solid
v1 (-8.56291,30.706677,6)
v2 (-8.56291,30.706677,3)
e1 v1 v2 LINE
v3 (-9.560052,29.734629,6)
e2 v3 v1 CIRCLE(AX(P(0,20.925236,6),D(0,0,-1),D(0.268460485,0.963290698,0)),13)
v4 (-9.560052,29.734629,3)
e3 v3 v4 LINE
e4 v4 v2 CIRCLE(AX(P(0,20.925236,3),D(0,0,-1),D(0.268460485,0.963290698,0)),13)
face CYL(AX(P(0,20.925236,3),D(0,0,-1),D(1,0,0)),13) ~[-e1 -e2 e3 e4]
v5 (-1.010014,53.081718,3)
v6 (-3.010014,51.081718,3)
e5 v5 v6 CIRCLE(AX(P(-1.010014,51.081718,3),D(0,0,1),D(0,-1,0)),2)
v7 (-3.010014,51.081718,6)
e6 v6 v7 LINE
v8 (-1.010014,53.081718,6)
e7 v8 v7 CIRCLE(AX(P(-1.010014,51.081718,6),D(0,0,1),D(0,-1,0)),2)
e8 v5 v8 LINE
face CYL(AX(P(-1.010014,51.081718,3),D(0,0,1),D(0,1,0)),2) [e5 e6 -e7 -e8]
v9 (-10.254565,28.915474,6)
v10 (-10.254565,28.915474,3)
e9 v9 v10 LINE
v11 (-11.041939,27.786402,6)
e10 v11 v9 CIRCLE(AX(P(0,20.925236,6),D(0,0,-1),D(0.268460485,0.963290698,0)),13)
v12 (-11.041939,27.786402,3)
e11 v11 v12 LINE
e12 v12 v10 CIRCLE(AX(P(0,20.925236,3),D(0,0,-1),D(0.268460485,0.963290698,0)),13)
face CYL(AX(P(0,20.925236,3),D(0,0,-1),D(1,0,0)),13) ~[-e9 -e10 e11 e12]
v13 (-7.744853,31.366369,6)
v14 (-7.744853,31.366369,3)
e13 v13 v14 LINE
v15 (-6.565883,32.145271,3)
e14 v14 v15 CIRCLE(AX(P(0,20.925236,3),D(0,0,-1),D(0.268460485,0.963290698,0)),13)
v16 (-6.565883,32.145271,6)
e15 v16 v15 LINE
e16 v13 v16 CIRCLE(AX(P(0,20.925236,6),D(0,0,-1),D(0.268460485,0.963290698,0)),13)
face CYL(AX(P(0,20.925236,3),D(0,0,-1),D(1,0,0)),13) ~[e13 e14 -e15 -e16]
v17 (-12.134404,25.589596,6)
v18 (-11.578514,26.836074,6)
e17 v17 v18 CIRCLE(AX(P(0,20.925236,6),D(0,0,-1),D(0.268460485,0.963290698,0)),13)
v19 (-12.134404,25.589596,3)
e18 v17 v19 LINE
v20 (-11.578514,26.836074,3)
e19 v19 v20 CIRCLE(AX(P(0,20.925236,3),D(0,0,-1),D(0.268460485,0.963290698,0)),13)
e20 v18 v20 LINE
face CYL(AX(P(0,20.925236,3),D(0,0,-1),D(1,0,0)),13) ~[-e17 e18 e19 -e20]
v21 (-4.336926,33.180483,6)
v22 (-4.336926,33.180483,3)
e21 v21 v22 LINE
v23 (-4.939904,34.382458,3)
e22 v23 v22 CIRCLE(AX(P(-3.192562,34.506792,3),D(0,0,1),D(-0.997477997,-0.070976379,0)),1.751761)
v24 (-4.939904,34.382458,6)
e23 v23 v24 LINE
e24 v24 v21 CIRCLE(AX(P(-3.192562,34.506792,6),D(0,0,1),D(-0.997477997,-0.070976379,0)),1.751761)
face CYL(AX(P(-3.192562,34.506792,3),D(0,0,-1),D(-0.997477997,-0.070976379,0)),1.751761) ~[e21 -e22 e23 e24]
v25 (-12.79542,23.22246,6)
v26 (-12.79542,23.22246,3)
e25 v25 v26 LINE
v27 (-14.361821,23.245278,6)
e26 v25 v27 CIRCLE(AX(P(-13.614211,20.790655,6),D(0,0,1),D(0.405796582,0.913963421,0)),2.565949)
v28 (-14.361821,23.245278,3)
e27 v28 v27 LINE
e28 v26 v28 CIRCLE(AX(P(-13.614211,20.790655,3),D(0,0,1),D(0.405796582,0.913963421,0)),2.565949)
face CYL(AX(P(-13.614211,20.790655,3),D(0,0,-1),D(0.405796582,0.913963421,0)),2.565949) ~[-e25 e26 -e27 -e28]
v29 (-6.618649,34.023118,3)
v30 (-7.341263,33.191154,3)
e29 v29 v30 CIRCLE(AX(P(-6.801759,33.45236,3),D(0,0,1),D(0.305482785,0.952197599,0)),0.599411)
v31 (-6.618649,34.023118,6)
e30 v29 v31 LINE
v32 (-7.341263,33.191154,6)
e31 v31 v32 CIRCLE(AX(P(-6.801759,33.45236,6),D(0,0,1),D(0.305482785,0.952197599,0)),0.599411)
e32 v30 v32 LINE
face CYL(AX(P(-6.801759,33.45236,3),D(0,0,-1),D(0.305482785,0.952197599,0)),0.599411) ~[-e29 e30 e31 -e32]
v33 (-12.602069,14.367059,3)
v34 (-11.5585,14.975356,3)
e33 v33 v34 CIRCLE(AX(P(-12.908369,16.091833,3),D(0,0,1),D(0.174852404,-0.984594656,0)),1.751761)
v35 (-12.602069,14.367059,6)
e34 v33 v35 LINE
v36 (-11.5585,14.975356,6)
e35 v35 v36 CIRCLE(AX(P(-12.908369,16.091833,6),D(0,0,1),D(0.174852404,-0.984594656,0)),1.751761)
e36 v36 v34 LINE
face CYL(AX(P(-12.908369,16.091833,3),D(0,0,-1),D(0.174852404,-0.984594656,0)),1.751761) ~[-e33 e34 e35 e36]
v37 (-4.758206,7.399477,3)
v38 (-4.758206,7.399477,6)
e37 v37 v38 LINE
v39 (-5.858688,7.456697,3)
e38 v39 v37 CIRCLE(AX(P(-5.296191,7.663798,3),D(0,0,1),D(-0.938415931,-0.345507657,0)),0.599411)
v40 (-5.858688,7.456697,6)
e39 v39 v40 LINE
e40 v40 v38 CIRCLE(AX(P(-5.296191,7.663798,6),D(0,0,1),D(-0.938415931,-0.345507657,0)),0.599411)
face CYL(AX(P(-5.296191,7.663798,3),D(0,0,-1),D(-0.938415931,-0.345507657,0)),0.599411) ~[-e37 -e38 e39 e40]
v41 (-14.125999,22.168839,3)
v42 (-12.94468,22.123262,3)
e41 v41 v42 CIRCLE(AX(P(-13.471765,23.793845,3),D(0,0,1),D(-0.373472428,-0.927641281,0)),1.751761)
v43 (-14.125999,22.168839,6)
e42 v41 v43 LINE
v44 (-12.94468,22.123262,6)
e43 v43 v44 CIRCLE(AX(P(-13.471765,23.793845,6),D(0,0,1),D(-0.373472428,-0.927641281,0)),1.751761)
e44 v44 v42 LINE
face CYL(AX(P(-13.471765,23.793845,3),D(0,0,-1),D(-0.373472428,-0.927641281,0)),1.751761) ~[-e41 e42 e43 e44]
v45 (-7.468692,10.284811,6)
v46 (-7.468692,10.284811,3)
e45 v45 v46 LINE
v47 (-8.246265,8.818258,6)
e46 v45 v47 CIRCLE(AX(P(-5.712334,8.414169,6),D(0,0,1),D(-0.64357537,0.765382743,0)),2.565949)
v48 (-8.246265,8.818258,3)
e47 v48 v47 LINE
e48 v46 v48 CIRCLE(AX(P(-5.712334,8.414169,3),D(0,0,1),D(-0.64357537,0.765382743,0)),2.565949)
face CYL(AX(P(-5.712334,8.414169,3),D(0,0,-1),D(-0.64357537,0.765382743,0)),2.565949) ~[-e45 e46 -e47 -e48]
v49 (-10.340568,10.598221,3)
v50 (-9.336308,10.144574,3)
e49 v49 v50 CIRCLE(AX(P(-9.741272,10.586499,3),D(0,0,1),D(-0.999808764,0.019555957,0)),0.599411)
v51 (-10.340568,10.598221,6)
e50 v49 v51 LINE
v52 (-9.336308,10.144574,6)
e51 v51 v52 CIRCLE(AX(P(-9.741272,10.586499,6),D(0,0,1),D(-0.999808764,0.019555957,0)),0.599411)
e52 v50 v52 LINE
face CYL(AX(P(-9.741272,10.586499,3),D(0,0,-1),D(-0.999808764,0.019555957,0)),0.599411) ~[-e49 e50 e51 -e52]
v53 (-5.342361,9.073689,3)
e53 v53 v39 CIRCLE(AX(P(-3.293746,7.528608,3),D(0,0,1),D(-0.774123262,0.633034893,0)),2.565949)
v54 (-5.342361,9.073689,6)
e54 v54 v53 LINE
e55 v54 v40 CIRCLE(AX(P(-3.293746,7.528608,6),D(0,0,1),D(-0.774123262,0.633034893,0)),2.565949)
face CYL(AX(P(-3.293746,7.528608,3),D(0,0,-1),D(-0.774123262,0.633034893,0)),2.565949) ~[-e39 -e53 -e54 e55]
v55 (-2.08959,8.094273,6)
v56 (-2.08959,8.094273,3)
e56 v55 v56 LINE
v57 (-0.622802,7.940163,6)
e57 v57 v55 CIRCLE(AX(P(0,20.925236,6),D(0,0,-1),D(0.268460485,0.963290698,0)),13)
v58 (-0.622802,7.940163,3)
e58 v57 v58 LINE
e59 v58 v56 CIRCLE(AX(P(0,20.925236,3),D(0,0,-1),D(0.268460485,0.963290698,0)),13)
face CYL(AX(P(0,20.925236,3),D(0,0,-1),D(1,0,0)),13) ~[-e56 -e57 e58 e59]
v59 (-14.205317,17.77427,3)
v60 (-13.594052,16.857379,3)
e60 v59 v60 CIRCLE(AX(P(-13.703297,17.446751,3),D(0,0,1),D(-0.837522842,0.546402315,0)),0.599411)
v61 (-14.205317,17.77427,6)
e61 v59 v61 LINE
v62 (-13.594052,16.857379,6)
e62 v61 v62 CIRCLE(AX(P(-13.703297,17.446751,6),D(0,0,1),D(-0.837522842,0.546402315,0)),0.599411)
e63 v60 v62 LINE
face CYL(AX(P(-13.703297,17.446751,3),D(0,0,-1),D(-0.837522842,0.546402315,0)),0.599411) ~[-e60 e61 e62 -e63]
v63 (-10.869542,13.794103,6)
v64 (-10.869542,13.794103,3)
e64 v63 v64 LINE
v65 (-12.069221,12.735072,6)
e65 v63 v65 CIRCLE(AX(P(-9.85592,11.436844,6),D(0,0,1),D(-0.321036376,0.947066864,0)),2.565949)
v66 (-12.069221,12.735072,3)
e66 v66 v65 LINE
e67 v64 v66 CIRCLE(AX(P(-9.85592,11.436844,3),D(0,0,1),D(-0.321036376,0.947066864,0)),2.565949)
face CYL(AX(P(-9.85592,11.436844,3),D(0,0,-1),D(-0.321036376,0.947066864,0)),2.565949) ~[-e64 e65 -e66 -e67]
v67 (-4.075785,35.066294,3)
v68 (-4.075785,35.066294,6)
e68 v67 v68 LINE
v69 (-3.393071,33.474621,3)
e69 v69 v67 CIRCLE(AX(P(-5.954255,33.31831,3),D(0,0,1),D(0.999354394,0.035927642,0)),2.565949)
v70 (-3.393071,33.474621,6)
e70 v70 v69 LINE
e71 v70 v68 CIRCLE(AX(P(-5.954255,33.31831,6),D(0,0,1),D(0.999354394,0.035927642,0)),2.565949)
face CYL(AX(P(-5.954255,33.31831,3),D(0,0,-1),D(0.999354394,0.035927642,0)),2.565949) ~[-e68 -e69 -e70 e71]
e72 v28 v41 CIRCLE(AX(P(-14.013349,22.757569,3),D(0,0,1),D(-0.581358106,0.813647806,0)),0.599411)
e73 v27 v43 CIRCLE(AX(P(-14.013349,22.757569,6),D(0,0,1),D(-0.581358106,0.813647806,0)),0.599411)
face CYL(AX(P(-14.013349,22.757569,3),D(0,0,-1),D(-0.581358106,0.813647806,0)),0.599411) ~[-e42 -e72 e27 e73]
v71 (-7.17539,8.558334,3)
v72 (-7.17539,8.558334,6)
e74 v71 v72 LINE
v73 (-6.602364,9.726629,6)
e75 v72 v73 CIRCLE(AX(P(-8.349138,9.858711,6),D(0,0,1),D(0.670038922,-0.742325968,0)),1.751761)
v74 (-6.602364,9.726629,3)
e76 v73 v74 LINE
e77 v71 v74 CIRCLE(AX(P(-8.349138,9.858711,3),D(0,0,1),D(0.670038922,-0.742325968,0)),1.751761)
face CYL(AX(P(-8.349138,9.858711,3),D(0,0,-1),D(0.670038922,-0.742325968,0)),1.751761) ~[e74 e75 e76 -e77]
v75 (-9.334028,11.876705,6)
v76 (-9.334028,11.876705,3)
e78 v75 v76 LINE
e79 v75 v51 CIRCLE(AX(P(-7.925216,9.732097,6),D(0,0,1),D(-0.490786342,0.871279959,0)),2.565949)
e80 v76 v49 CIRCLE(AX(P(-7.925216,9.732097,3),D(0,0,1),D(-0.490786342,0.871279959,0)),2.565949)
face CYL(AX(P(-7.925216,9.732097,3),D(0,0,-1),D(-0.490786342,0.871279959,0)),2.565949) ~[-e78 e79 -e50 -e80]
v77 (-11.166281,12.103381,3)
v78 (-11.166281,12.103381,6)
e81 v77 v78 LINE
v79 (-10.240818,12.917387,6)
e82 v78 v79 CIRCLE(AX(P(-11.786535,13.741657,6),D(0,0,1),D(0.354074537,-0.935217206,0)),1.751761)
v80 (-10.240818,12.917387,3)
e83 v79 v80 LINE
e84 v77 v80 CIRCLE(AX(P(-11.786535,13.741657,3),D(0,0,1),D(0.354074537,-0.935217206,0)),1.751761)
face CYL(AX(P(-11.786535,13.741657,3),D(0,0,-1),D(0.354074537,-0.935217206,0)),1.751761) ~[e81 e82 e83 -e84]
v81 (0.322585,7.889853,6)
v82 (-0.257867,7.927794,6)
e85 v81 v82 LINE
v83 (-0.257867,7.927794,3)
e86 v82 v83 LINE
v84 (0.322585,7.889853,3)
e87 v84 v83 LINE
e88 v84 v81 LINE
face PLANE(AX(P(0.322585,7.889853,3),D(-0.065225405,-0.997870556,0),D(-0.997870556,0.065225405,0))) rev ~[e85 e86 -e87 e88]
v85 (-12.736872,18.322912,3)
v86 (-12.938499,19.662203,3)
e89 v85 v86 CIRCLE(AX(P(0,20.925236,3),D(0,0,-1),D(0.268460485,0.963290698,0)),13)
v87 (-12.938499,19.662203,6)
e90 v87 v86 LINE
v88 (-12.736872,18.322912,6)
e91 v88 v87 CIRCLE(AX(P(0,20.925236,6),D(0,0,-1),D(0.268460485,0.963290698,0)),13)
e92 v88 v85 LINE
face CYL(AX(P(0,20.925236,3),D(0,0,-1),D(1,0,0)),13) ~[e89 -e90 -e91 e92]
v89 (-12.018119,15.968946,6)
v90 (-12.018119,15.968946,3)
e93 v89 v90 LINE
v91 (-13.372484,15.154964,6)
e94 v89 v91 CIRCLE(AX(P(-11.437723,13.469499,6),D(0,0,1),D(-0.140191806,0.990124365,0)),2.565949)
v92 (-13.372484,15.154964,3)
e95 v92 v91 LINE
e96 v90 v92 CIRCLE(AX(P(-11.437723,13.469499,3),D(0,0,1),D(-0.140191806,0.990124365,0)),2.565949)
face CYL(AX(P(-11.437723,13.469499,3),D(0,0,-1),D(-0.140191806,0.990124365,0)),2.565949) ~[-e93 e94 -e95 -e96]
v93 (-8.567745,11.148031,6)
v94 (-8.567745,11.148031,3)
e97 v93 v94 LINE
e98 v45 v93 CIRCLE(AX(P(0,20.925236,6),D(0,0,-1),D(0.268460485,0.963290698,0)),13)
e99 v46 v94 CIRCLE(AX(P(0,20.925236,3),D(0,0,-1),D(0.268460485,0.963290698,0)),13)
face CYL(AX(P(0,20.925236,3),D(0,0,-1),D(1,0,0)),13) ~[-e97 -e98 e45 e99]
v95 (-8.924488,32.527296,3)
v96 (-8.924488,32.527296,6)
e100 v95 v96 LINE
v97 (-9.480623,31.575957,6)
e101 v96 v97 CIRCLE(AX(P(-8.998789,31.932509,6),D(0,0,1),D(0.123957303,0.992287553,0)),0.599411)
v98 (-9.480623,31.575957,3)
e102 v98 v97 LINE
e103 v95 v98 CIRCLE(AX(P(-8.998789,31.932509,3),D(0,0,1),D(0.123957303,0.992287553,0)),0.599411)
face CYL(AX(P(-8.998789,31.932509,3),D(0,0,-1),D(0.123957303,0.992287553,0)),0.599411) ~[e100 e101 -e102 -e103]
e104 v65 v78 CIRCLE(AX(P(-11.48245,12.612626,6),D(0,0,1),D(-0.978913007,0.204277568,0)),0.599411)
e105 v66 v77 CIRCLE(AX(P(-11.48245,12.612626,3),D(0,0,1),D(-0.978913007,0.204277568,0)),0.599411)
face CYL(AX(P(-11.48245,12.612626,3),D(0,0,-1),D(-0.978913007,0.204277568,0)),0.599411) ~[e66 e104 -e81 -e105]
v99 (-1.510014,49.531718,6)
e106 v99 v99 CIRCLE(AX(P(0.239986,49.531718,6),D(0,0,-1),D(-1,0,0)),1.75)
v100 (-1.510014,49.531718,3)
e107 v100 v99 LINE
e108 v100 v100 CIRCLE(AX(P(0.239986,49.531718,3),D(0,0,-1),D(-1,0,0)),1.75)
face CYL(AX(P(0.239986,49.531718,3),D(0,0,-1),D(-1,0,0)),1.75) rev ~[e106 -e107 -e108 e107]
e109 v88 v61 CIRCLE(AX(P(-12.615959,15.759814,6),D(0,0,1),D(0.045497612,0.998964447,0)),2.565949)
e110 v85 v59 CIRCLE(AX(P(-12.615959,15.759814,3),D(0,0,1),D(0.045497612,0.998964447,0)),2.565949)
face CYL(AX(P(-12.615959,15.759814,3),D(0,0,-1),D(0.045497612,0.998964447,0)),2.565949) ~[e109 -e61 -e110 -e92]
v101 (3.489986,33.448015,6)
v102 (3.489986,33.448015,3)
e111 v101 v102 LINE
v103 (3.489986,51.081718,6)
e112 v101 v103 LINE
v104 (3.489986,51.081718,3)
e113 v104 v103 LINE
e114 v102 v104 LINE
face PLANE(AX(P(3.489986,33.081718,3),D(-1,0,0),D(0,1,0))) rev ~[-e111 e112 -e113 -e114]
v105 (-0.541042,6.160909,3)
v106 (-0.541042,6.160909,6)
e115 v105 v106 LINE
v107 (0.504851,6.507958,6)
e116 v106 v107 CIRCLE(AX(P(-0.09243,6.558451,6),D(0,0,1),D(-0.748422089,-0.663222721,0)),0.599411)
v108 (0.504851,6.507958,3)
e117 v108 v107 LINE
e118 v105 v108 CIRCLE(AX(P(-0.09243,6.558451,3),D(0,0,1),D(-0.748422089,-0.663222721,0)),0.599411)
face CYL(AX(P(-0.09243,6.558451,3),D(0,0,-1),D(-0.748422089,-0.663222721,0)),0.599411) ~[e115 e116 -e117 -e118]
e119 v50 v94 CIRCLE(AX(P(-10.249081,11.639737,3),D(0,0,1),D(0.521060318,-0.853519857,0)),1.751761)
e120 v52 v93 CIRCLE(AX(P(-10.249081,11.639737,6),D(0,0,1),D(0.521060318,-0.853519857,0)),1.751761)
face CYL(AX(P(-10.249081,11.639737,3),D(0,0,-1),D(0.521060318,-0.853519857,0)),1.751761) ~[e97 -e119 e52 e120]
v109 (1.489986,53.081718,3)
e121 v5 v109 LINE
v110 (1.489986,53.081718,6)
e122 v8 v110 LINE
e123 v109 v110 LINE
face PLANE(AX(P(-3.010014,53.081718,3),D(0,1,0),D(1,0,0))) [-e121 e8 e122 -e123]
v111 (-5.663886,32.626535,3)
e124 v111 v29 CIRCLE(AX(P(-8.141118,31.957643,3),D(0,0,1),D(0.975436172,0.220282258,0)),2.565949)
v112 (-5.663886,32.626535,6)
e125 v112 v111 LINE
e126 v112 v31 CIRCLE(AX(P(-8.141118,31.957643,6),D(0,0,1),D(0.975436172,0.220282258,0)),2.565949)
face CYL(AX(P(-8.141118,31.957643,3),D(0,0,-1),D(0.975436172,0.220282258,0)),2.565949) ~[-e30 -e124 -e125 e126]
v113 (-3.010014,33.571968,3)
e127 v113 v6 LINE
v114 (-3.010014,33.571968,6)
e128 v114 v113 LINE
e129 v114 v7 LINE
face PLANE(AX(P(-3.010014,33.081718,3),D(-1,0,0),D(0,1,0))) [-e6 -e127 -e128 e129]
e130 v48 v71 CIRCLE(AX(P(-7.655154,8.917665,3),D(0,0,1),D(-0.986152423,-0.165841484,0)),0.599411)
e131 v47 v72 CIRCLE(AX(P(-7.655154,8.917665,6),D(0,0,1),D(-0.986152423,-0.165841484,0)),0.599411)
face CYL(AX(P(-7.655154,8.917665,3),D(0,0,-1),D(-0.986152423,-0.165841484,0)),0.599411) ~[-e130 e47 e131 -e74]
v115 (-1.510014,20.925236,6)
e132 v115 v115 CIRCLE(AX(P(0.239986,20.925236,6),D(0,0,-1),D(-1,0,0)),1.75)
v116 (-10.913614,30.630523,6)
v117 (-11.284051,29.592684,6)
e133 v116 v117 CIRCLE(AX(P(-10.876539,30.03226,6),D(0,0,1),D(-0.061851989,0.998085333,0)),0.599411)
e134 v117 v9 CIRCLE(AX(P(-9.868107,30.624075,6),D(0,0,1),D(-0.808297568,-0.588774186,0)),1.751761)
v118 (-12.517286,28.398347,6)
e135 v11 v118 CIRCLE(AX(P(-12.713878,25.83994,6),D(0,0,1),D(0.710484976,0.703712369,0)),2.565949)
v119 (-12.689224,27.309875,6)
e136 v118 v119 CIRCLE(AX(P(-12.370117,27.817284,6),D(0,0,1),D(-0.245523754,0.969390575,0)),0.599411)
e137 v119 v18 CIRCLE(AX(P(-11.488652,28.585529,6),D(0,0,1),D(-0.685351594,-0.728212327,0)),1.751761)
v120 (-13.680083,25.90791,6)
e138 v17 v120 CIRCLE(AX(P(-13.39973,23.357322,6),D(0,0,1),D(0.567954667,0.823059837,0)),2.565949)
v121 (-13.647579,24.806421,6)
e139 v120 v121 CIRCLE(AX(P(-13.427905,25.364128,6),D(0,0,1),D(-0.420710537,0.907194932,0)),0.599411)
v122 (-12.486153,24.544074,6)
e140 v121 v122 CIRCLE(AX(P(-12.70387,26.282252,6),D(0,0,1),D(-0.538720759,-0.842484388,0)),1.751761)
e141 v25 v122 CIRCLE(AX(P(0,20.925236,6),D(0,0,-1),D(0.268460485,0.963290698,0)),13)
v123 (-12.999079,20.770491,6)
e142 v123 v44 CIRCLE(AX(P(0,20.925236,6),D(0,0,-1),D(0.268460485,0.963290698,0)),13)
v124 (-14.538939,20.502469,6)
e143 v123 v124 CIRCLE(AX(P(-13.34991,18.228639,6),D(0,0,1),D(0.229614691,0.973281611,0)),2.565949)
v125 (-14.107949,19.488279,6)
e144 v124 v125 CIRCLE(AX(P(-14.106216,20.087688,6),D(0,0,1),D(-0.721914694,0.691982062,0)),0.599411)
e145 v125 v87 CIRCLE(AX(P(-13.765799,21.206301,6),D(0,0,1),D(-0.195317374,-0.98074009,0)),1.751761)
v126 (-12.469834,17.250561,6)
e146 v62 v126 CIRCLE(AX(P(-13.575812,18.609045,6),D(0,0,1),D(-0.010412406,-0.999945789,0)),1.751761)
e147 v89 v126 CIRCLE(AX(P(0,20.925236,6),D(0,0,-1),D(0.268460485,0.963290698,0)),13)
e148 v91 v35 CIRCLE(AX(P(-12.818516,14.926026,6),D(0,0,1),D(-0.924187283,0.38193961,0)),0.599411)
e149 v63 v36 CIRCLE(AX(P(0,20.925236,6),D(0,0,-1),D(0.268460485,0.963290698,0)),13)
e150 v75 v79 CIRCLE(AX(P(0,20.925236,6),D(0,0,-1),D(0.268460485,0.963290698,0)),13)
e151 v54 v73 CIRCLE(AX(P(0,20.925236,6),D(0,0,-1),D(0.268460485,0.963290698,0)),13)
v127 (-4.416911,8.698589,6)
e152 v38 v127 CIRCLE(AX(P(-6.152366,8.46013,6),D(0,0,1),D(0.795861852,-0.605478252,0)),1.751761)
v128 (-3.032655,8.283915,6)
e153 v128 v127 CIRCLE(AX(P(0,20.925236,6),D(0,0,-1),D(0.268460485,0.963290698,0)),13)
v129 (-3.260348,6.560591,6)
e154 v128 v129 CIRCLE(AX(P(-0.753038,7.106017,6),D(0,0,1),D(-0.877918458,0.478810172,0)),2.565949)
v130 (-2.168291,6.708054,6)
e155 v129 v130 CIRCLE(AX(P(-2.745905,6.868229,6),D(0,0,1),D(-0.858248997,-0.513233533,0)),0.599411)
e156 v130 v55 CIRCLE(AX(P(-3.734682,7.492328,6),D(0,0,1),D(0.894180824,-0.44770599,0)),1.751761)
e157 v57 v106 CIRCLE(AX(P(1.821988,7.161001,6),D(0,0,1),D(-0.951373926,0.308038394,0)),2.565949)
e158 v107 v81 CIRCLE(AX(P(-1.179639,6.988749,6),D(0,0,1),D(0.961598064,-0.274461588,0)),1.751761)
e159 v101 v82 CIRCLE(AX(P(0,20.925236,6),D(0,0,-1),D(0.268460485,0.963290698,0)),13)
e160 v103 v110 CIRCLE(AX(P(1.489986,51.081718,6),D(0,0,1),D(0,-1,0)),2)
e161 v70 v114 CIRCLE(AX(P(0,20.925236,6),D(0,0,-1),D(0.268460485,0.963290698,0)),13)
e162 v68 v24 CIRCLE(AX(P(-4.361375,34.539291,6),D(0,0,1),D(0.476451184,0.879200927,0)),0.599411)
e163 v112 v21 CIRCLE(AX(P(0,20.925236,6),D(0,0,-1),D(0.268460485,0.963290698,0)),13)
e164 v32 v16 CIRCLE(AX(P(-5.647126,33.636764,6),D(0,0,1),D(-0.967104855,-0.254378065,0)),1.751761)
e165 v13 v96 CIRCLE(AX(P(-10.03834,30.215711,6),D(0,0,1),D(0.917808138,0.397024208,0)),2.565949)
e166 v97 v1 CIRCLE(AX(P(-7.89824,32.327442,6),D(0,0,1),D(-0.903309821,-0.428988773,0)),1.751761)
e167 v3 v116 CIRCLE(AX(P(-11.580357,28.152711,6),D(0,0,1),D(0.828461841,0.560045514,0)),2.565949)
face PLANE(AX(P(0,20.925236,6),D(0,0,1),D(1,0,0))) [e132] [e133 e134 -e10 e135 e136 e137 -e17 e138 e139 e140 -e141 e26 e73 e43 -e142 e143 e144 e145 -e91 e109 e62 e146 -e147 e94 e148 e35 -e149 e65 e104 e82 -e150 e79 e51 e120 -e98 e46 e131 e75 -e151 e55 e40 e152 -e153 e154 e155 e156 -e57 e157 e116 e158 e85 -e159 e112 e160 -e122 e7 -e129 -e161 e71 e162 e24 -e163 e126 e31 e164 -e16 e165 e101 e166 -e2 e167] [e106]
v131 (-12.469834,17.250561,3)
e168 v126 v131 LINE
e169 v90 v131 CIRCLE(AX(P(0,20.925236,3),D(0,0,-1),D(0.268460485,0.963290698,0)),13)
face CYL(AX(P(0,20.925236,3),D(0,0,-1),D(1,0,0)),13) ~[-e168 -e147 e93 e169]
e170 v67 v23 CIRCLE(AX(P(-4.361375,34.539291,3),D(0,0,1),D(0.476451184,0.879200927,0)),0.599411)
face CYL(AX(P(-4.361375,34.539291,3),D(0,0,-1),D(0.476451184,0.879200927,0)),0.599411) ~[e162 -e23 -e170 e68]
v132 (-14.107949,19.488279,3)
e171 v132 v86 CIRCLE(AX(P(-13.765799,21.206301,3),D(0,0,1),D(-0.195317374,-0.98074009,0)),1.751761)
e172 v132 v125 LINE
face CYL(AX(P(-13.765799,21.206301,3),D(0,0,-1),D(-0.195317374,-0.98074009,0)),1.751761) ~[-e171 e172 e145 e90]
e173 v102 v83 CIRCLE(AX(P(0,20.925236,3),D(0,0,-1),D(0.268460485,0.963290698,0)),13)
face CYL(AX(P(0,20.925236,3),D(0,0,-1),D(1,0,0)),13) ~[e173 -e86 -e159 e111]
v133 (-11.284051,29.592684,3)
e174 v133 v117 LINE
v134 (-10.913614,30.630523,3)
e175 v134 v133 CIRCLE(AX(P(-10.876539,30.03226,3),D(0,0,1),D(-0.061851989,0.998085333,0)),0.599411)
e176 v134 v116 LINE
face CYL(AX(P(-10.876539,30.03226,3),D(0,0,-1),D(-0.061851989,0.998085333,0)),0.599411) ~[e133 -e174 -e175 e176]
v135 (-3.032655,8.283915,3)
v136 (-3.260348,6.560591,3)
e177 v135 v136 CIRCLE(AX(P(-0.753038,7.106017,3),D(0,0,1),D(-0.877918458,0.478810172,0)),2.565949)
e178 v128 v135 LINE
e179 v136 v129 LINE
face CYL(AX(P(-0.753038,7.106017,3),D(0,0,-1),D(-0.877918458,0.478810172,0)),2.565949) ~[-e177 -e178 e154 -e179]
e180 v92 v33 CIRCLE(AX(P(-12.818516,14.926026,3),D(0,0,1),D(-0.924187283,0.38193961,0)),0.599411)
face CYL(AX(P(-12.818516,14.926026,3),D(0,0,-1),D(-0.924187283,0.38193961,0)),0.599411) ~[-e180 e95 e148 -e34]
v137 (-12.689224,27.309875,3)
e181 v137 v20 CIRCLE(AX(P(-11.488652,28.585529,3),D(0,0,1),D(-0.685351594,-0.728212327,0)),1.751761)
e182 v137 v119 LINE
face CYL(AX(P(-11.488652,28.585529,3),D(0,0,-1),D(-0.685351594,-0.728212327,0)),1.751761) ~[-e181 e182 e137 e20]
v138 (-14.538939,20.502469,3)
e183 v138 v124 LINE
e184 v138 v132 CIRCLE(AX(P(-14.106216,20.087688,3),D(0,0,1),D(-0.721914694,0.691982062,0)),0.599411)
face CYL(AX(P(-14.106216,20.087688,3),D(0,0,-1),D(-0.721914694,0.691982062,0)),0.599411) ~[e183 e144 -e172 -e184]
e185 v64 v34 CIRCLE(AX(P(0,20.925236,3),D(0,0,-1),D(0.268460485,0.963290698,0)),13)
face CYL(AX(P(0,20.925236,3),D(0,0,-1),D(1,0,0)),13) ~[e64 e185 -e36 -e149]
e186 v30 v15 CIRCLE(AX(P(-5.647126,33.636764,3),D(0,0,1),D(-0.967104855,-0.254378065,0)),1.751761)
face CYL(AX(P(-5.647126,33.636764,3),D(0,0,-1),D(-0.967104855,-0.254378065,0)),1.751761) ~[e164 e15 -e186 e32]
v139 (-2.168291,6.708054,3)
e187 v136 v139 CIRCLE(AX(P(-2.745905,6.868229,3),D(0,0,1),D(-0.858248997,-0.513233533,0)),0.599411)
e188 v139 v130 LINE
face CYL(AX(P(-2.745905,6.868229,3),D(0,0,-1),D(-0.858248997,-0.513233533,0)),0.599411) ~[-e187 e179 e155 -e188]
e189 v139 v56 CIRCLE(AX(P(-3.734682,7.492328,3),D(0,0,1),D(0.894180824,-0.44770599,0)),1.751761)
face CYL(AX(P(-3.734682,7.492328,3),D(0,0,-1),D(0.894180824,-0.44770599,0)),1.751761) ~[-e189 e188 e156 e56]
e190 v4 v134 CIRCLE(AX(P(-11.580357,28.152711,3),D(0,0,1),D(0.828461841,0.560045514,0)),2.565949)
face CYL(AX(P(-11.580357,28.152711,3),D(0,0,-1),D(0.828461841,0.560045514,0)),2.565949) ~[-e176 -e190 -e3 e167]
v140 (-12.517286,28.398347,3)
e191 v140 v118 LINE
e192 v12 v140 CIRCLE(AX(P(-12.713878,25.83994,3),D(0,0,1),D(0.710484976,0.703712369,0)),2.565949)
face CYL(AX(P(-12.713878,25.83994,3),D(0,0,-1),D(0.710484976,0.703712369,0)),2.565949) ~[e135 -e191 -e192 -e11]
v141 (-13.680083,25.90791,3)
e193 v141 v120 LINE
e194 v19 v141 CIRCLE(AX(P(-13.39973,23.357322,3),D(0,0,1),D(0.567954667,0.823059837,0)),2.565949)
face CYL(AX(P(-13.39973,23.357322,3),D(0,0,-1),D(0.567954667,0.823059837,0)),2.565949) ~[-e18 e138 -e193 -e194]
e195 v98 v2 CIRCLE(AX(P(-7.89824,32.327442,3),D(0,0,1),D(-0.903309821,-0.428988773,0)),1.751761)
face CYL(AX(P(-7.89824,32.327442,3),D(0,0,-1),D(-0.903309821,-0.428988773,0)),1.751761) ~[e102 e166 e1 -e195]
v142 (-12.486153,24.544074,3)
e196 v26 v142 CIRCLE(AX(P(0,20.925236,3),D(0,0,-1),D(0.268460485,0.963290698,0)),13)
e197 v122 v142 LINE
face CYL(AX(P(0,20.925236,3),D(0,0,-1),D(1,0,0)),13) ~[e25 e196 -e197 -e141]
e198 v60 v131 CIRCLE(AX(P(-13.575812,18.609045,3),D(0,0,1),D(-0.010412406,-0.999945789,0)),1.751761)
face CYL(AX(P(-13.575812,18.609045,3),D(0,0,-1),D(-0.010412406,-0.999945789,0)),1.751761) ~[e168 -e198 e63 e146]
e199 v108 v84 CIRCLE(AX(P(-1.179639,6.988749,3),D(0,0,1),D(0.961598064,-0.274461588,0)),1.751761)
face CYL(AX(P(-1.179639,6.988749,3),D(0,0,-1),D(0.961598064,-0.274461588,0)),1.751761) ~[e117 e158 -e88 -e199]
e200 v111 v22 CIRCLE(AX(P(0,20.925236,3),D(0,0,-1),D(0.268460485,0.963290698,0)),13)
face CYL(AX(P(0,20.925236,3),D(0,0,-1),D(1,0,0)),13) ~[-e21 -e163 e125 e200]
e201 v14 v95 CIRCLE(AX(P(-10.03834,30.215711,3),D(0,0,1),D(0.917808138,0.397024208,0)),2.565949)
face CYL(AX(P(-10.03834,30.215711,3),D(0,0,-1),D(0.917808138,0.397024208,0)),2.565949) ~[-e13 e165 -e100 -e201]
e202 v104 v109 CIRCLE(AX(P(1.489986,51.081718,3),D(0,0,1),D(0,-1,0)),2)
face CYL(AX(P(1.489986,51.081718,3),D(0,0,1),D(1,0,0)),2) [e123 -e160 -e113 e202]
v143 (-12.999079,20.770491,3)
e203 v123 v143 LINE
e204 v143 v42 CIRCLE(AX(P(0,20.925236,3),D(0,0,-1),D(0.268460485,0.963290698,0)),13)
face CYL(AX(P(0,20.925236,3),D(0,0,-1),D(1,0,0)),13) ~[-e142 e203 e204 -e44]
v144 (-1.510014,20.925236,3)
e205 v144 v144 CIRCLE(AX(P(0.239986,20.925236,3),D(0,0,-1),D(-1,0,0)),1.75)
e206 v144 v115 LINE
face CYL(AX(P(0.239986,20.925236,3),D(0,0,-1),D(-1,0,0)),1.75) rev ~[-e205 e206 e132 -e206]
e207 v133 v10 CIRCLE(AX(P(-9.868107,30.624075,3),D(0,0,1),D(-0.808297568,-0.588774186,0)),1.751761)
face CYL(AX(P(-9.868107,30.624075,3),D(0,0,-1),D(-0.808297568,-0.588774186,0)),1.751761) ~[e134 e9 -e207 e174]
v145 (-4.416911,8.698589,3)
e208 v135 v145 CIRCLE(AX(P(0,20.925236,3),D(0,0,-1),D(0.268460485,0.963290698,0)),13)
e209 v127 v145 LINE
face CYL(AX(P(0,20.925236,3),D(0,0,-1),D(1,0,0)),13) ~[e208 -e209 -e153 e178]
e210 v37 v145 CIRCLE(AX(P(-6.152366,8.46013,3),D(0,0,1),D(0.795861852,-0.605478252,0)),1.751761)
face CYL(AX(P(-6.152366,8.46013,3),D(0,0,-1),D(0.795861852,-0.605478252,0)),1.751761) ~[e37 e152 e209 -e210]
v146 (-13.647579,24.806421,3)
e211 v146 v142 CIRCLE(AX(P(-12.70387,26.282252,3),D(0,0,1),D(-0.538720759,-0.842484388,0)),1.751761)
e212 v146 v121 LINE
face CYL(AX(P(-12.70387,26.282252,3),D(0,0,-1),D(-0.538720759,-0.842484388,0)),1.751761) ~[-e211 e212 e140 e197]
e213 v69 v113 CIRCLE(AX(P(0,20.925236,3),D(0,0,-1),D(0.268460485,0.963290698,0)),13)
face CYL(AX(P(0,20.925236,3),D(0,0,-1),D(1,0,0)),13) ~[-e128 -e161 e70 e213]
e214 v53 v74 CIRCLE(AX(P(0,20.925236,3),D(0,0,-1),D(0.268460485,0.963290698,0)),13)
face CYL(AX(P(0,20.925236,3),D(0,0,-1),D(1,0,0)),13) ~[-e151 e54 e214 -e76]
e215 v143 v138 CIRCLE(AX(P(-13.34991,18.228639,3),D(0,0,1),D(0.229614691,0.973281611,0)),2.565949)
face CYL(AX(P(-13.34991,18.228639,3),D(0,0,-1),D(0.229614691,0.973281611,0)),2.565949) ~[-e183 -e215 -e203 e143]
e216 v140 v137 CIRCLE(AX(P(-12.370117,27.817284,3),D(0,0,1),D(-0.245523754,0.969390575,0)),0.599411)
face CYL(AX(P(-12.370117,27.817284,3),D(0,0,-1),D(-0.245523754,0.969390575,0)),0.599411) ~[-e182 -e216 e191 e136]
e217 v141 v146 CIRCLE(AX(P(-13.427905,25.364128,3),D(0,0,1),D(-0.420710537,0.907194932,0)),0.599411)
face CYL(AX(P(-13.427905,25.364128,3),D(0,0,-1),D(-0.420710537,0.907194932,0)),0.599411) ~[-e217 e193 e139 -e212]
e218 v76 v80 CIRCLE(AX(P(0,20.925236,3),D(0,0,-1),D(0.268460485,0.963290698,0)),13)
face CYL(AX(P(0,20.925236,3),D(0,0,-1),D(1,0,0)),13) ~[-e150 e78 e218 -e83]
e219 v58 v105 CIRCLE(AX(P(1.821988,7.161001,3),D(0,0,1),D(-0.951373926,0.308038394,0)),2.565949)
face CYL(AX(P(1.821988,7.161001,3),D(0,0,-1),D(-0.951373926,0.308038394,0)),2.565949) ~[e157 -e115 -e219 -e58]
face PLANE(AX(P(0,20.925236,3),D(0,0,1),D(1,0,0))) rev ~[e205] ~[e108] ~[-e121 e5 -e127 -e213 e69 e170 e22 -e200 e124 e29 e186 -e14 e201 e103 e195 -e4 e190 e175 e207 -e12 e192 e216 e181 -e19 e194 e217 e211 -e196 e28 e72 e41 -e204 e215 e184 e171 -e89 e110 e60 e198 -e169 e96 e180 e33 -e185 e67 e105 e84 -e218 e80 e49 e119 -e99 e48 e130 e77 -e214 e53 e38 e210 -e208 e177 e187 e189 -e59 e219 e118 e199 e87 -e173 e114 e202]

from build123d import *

# Parameters (mm, degrees)
SKETCH5_R           = 13
BOSS_EXTRUDE3_DEPTH = 3
SKETCH6_W           = 6.5
SKETCH6_H           = 20
BOSS_EXTRUDE4_DEPTH = 3
BOSS_EXTRUDE5_DEPTH = 3
SKETCH9_R           = 1.75
CUT_EXTRUDE1_DEPTH  = 3
FILLET1_R           = 2


with BuildPart() as part:
    # Sketch5 → Boss-Extrude3 (new body)
    with BuildSketch(Plane.XY.offset(3)):
        with Locations((0, 20.92523633)):
            Circle(SKETCH5_R)
    extrude(amount=BOSS_EXTRUDE3_DEPTH)

    # Sketch6 → Boss-Extrude4 (add)
    with BuildSketch(Plane.XY.offset(3)):
        with Locations((0.239986303, 43.081718219)):
            Rectangle(SKETCH6_W, SKETCH6_H)
    extrude(amount=BOSS_EXTRUDE4_DEPTH)

    # Sketch8 → Boss-Extrude5 (add)
    with BuildSketch(Plane.XY.offset(3)):
        with BuildLine():
            Line((-4.295994306, 33.146239501), (-3.38996239, 33.41049881))
            ThreePointArc((-3.38996239, 33.41049881), (-3.583611793, 34.300219718), (-4.075784869, 35.066293507))
            ThreePointArc((-4.075784869, 35.066293507), (-4.733344139, 35.009325085), (-4.939904397, 34.382457909))
            ThreePointArc((-4.939904397, 34.382457909), (-4.746199027, 33.697547192), (-4.295994306, 33.146239501))
        make_face()
        with BuildLine():
            Line((-6.479661136, 32.095481488), (-5.638197922, 32.522876474))
            ThreePointArc((-5.638197922, 32.522876474), (-5.993184011, 33.36138006), (-6.618649024, 34.023117852))
            ThreePointArc((-6.618649024, 34.023117852), (-7.254301529, 33.845422924), (-7.341262628, 33.191154353))
            ThreePointArc((-7.341262628, 33.191154353), (-7.024130865, 32.55393233), (-6.479661136, 32.095481488))
        make_face()
        with BuildLine():
            Line((-8.431105641, 30.65869425), (-7.68329101, 31.234454696))
            ThreePointArc((-7.68329101, 31.234454696), (-8.187345926, 31.992763359), (-8.924487613, 32.527296351))
            ThreePointArc((-8.924487613, 32.527296351), (-9.516266026, 32.235015826), (-9.480622702, 31.575956535))
            ThreePointArc((-9.480622702, 31.575956535), (-9.05102421, 31.008444775), (-8.431105641, 30.65869425))
        make_face()
        with BuildLine():
            Line((-10.082888425, 28.885531296), (-9.454565882, 29.589759666))
            ThreePointArc((-9.454565882, 29.589759666), (-10.090270139, 30.241667239), (-10.913613837, 30.630522663))
            ThreePointArc((-10.913613837, 30.630522663), (-11.44106706, 30.233757376), (-11.284051101, 29.592683602))
            ThreePointArc((-11.284051101, 29.592683602), (-10.756832248, 29.114494578), (-10.082888425, 28.885531296))
        make_face()
        with BuildLine():
            Line((-11.377926009, 26.837270843), (-10.89080957, 27.645629915))
            ThreePointArc((-10.89080957, 27.645629915), (-11.63619405, 28.168607317), (-12.517286067, 28.398346832))
            ThreePointArc((-12.517286067, 28.398346832), (-12.962185999, 27.910808479), (-12.689223673, 27.309874902))
            ThreePointArc((-12.689223673, 27.309874902), (-12.08260446, 26.937534209), (-11.377926009, 26.837270843))
        make_face()
        with BuildLine():
            Line((-12.271463571, 24.584698125), (-11.942387349, 25.469252055))
            ThreePointArc((-11.942387349, 25.469252055), (-12.77169253, 25.845225862), (-13.680083464, 25.907909968))
            ThreePointArc((-13.680083464, 25.907909968), (-14.027054939, 25.346447244), (-13.647579472, 24.806421351))
            ThreePointArc((-13.647579472, 24.806421351), (-12.982523874, 24.5527966), (-12.271463571, 24.584698125))
        make_face()
        with BuildLine():
            Line((-12.732621608, 22.20565914), (-12.572958051, 23.135838888))
            ThreePointArc((-12.572958051, 23.135838888), (-13.457524218, 23.351815933), (-14.361821254, 23.245278348))
            ThreePointArc((-14.361821254, 23.245278348), (-14.598873387, 22.629294678), (-14.125998959, 22.168839065))
            ThreePointArc((-14.125998959, 22.168839065), (-13.425490439, 22.042695201), (-12.732621608, 22.20565914))
        make_face()
        with BuildLine():
            Line((-12.745463094, 19.782370399), (-12.76072997, 20.726030156))
            ThreePointArc((-12.76072997, 20.726030156), (-13.669987659, 20.774546551), (-14.538939462, 20.502469076))
            ThreePointArc((-14.538939462, 20.502469076), (-14.657880036, 19.853252059), (-14.107948577, 19.488279478))
            ThreePointArc((-14.107948577, 19.488279478), (-13.396195802, 19.493975869), (-12.745463094, 19.782370399))
        make_face()
        with BuildLine():
            Line((-12.309544245, 17.398577627), (-12.499213949, 18.323105732))
            ThreePointArc((-12.499213949, 18.323105732), (-13.401740392, 18.202484813), (-14.20531711, 17.774270094))
            ThreePointArc((-14.20531711, 17.774270094), (-14.202035694, 17.114255831), (-13.594052123, 16.857379261))
            ThreePointArc((-13.594052123, 16.857379261), (-12.895652349, 16.994719047), (-12.309544245, 17.398577627))
        make_face()
        with BuildLine():
            Line((-11.439929852, 15.136661617), (-11.797447644, 16.010107576))
            ThreePointArc((-11.797447644, 16.010107576), (-12.662052694, 15.724517845), (-13.372483756, 15.154964429))
            ThreePointArc((-13.372483756, 15.154964429), (-13.247093752, 14.506962159), (-12.602069194, 14.367058922))
            ThreePointArc((-12.602069194, 14.367058922), (-11.941158214, 14.631295818), (-11.439929852, 15.136661617))
        make_face()
        with BuildLine():
            Line((-10.166672663, 13.074791263), (-10.679683192, 13.866969912))
            ThreePointArc((-10.679683192, 13.866969912), (-11.476487216, 13.426280982), (-12.069221043, 12.735071898))
            ThreePointArc((-12.069221043, 12.735071898), (-11.826055767, 12.121475741), (-11.166281438, 12.103380713))
            ThreePointArc((-11.166281438, 12.103380713), (-10.565699479, 12.485383033), (-10.166672663, 13.074791263))
        make_face()
        with BuildLine():
            Line((-8.533774801, 11.284222136), (-9.184549085, 11.967756807))
            ThreePointArc((-9.184549085, 11.967756807), (-9.886015568, 11.387198317), (-10.340568045, 10.598220857))
            ThreePointArc((-10.340568045, 10.598220857), (-9.988030974, 10.040235902), (-9.336307821, 10.144574423))
            ThreePointArc((-9.336307821, 10.144574423), (-8.816810221, 10.631140662), (-8.533774801, 11.284222136))
        make_face()
        with BuildLine():
            Line((-6.597667103, 9.826833991), (-7.363715226, 10.378102608))
            ThreePointArc((-7.363715226, 10.378102608), (-7.945602392, 9.677737908), (-8.246264774, 8.818258113))
            ThreePointArc((-8.246264774, 8.818258113), (-7.796539134, 8.3351676), (-7.175389866, 8.558333865))
            ThreePointArc((-7.175389866, 8.558333865), (-6.754929788, 9.132648922), (-6.597667103, 9.826833991))
        make_face()
        with BuildLine():
            Line((-4.425258947, 8.752992275), (-5.280107276, 9.152943708))
            ThreePointArc((-5.280107276, 9.152943708), (-5.722305859, 8.356976498), (-5.858687642, 7.456696877))
            ThreePointArc((-5.858687642, 7.456696877), (-5.327315369, 7.065195788), (-4.758206101, 7.399477461))
            ThreePointArc((-4.758206101, 7.399477461), (-4.451314103, 8.041693751), (-4.425258947, 8.752992275))
        make_face()
        with BuildLine():
            Line((-2.091625949, 8.09980757), (-3.005732032, 8.334620015))
            ThreePointArc((-3.005732032, 8.334620015), (-3.292960219, 7.470557891), (-3.260348227, 6.560590944))
            ThreePointArc((-3.260348227, 6.560590944), (-2.665692859, 6.274209051), (-2.168291272, 6.708053788))
            ThreePointArc((-2.168291272, 6.708053788), (-1.985573144, 7.395977147), (-2.091625949, 8.09980757))
        make_face()
        with BuildLine():
            Line((0.322584552, 7.889853094), (-0.61918896, 7.951411738))
            ThreePointArc((-0.61918896, 7.951411738), (-0.741520518, 7.049115568), (-0.541041777, 6.160908576))
            ThreePointArc((-0.541041777, 6.160908576), (0.096346165, 5.989542866), (0.504850516, 6.507957556))
            ThreePointArc((0.504850516, 6.507957556), (0.557080271, 7.217814242), (0.322584552, 7.889853094))
        make_face()
    extrude(amount=BOSS_EXTRUDE5_DEPTH)

    # Sketch9 → Cut-Extrude1 (cut)
    with BuildSketch(Plane(origin=(0, 0, 3), x_dir=(-1, 0, 0), z_dir=(0, 0, -1))):
        with Locations((-0.239986303, 49.531718219)):
            Circle(SKETCH9_R)
        with Locations((-0.239986303, 20.92523633)):
            Circle(SKETCH9_R)
    extrude(amount=-CUT_EXTRUDE1_DEPTH, mode=Mode.SUBTRACT)

    # Fillet1
    fillet1_edges = [part.edges().sort_by_distance(p)[0] for p in [
        (-3.010013697, 53.081718219, 4.5),
        (3.489986303, 53.081718219, 4.5),
    ]]
    fillet(fillet1_edges, radius=FILLET1_R)


solid = part.part
